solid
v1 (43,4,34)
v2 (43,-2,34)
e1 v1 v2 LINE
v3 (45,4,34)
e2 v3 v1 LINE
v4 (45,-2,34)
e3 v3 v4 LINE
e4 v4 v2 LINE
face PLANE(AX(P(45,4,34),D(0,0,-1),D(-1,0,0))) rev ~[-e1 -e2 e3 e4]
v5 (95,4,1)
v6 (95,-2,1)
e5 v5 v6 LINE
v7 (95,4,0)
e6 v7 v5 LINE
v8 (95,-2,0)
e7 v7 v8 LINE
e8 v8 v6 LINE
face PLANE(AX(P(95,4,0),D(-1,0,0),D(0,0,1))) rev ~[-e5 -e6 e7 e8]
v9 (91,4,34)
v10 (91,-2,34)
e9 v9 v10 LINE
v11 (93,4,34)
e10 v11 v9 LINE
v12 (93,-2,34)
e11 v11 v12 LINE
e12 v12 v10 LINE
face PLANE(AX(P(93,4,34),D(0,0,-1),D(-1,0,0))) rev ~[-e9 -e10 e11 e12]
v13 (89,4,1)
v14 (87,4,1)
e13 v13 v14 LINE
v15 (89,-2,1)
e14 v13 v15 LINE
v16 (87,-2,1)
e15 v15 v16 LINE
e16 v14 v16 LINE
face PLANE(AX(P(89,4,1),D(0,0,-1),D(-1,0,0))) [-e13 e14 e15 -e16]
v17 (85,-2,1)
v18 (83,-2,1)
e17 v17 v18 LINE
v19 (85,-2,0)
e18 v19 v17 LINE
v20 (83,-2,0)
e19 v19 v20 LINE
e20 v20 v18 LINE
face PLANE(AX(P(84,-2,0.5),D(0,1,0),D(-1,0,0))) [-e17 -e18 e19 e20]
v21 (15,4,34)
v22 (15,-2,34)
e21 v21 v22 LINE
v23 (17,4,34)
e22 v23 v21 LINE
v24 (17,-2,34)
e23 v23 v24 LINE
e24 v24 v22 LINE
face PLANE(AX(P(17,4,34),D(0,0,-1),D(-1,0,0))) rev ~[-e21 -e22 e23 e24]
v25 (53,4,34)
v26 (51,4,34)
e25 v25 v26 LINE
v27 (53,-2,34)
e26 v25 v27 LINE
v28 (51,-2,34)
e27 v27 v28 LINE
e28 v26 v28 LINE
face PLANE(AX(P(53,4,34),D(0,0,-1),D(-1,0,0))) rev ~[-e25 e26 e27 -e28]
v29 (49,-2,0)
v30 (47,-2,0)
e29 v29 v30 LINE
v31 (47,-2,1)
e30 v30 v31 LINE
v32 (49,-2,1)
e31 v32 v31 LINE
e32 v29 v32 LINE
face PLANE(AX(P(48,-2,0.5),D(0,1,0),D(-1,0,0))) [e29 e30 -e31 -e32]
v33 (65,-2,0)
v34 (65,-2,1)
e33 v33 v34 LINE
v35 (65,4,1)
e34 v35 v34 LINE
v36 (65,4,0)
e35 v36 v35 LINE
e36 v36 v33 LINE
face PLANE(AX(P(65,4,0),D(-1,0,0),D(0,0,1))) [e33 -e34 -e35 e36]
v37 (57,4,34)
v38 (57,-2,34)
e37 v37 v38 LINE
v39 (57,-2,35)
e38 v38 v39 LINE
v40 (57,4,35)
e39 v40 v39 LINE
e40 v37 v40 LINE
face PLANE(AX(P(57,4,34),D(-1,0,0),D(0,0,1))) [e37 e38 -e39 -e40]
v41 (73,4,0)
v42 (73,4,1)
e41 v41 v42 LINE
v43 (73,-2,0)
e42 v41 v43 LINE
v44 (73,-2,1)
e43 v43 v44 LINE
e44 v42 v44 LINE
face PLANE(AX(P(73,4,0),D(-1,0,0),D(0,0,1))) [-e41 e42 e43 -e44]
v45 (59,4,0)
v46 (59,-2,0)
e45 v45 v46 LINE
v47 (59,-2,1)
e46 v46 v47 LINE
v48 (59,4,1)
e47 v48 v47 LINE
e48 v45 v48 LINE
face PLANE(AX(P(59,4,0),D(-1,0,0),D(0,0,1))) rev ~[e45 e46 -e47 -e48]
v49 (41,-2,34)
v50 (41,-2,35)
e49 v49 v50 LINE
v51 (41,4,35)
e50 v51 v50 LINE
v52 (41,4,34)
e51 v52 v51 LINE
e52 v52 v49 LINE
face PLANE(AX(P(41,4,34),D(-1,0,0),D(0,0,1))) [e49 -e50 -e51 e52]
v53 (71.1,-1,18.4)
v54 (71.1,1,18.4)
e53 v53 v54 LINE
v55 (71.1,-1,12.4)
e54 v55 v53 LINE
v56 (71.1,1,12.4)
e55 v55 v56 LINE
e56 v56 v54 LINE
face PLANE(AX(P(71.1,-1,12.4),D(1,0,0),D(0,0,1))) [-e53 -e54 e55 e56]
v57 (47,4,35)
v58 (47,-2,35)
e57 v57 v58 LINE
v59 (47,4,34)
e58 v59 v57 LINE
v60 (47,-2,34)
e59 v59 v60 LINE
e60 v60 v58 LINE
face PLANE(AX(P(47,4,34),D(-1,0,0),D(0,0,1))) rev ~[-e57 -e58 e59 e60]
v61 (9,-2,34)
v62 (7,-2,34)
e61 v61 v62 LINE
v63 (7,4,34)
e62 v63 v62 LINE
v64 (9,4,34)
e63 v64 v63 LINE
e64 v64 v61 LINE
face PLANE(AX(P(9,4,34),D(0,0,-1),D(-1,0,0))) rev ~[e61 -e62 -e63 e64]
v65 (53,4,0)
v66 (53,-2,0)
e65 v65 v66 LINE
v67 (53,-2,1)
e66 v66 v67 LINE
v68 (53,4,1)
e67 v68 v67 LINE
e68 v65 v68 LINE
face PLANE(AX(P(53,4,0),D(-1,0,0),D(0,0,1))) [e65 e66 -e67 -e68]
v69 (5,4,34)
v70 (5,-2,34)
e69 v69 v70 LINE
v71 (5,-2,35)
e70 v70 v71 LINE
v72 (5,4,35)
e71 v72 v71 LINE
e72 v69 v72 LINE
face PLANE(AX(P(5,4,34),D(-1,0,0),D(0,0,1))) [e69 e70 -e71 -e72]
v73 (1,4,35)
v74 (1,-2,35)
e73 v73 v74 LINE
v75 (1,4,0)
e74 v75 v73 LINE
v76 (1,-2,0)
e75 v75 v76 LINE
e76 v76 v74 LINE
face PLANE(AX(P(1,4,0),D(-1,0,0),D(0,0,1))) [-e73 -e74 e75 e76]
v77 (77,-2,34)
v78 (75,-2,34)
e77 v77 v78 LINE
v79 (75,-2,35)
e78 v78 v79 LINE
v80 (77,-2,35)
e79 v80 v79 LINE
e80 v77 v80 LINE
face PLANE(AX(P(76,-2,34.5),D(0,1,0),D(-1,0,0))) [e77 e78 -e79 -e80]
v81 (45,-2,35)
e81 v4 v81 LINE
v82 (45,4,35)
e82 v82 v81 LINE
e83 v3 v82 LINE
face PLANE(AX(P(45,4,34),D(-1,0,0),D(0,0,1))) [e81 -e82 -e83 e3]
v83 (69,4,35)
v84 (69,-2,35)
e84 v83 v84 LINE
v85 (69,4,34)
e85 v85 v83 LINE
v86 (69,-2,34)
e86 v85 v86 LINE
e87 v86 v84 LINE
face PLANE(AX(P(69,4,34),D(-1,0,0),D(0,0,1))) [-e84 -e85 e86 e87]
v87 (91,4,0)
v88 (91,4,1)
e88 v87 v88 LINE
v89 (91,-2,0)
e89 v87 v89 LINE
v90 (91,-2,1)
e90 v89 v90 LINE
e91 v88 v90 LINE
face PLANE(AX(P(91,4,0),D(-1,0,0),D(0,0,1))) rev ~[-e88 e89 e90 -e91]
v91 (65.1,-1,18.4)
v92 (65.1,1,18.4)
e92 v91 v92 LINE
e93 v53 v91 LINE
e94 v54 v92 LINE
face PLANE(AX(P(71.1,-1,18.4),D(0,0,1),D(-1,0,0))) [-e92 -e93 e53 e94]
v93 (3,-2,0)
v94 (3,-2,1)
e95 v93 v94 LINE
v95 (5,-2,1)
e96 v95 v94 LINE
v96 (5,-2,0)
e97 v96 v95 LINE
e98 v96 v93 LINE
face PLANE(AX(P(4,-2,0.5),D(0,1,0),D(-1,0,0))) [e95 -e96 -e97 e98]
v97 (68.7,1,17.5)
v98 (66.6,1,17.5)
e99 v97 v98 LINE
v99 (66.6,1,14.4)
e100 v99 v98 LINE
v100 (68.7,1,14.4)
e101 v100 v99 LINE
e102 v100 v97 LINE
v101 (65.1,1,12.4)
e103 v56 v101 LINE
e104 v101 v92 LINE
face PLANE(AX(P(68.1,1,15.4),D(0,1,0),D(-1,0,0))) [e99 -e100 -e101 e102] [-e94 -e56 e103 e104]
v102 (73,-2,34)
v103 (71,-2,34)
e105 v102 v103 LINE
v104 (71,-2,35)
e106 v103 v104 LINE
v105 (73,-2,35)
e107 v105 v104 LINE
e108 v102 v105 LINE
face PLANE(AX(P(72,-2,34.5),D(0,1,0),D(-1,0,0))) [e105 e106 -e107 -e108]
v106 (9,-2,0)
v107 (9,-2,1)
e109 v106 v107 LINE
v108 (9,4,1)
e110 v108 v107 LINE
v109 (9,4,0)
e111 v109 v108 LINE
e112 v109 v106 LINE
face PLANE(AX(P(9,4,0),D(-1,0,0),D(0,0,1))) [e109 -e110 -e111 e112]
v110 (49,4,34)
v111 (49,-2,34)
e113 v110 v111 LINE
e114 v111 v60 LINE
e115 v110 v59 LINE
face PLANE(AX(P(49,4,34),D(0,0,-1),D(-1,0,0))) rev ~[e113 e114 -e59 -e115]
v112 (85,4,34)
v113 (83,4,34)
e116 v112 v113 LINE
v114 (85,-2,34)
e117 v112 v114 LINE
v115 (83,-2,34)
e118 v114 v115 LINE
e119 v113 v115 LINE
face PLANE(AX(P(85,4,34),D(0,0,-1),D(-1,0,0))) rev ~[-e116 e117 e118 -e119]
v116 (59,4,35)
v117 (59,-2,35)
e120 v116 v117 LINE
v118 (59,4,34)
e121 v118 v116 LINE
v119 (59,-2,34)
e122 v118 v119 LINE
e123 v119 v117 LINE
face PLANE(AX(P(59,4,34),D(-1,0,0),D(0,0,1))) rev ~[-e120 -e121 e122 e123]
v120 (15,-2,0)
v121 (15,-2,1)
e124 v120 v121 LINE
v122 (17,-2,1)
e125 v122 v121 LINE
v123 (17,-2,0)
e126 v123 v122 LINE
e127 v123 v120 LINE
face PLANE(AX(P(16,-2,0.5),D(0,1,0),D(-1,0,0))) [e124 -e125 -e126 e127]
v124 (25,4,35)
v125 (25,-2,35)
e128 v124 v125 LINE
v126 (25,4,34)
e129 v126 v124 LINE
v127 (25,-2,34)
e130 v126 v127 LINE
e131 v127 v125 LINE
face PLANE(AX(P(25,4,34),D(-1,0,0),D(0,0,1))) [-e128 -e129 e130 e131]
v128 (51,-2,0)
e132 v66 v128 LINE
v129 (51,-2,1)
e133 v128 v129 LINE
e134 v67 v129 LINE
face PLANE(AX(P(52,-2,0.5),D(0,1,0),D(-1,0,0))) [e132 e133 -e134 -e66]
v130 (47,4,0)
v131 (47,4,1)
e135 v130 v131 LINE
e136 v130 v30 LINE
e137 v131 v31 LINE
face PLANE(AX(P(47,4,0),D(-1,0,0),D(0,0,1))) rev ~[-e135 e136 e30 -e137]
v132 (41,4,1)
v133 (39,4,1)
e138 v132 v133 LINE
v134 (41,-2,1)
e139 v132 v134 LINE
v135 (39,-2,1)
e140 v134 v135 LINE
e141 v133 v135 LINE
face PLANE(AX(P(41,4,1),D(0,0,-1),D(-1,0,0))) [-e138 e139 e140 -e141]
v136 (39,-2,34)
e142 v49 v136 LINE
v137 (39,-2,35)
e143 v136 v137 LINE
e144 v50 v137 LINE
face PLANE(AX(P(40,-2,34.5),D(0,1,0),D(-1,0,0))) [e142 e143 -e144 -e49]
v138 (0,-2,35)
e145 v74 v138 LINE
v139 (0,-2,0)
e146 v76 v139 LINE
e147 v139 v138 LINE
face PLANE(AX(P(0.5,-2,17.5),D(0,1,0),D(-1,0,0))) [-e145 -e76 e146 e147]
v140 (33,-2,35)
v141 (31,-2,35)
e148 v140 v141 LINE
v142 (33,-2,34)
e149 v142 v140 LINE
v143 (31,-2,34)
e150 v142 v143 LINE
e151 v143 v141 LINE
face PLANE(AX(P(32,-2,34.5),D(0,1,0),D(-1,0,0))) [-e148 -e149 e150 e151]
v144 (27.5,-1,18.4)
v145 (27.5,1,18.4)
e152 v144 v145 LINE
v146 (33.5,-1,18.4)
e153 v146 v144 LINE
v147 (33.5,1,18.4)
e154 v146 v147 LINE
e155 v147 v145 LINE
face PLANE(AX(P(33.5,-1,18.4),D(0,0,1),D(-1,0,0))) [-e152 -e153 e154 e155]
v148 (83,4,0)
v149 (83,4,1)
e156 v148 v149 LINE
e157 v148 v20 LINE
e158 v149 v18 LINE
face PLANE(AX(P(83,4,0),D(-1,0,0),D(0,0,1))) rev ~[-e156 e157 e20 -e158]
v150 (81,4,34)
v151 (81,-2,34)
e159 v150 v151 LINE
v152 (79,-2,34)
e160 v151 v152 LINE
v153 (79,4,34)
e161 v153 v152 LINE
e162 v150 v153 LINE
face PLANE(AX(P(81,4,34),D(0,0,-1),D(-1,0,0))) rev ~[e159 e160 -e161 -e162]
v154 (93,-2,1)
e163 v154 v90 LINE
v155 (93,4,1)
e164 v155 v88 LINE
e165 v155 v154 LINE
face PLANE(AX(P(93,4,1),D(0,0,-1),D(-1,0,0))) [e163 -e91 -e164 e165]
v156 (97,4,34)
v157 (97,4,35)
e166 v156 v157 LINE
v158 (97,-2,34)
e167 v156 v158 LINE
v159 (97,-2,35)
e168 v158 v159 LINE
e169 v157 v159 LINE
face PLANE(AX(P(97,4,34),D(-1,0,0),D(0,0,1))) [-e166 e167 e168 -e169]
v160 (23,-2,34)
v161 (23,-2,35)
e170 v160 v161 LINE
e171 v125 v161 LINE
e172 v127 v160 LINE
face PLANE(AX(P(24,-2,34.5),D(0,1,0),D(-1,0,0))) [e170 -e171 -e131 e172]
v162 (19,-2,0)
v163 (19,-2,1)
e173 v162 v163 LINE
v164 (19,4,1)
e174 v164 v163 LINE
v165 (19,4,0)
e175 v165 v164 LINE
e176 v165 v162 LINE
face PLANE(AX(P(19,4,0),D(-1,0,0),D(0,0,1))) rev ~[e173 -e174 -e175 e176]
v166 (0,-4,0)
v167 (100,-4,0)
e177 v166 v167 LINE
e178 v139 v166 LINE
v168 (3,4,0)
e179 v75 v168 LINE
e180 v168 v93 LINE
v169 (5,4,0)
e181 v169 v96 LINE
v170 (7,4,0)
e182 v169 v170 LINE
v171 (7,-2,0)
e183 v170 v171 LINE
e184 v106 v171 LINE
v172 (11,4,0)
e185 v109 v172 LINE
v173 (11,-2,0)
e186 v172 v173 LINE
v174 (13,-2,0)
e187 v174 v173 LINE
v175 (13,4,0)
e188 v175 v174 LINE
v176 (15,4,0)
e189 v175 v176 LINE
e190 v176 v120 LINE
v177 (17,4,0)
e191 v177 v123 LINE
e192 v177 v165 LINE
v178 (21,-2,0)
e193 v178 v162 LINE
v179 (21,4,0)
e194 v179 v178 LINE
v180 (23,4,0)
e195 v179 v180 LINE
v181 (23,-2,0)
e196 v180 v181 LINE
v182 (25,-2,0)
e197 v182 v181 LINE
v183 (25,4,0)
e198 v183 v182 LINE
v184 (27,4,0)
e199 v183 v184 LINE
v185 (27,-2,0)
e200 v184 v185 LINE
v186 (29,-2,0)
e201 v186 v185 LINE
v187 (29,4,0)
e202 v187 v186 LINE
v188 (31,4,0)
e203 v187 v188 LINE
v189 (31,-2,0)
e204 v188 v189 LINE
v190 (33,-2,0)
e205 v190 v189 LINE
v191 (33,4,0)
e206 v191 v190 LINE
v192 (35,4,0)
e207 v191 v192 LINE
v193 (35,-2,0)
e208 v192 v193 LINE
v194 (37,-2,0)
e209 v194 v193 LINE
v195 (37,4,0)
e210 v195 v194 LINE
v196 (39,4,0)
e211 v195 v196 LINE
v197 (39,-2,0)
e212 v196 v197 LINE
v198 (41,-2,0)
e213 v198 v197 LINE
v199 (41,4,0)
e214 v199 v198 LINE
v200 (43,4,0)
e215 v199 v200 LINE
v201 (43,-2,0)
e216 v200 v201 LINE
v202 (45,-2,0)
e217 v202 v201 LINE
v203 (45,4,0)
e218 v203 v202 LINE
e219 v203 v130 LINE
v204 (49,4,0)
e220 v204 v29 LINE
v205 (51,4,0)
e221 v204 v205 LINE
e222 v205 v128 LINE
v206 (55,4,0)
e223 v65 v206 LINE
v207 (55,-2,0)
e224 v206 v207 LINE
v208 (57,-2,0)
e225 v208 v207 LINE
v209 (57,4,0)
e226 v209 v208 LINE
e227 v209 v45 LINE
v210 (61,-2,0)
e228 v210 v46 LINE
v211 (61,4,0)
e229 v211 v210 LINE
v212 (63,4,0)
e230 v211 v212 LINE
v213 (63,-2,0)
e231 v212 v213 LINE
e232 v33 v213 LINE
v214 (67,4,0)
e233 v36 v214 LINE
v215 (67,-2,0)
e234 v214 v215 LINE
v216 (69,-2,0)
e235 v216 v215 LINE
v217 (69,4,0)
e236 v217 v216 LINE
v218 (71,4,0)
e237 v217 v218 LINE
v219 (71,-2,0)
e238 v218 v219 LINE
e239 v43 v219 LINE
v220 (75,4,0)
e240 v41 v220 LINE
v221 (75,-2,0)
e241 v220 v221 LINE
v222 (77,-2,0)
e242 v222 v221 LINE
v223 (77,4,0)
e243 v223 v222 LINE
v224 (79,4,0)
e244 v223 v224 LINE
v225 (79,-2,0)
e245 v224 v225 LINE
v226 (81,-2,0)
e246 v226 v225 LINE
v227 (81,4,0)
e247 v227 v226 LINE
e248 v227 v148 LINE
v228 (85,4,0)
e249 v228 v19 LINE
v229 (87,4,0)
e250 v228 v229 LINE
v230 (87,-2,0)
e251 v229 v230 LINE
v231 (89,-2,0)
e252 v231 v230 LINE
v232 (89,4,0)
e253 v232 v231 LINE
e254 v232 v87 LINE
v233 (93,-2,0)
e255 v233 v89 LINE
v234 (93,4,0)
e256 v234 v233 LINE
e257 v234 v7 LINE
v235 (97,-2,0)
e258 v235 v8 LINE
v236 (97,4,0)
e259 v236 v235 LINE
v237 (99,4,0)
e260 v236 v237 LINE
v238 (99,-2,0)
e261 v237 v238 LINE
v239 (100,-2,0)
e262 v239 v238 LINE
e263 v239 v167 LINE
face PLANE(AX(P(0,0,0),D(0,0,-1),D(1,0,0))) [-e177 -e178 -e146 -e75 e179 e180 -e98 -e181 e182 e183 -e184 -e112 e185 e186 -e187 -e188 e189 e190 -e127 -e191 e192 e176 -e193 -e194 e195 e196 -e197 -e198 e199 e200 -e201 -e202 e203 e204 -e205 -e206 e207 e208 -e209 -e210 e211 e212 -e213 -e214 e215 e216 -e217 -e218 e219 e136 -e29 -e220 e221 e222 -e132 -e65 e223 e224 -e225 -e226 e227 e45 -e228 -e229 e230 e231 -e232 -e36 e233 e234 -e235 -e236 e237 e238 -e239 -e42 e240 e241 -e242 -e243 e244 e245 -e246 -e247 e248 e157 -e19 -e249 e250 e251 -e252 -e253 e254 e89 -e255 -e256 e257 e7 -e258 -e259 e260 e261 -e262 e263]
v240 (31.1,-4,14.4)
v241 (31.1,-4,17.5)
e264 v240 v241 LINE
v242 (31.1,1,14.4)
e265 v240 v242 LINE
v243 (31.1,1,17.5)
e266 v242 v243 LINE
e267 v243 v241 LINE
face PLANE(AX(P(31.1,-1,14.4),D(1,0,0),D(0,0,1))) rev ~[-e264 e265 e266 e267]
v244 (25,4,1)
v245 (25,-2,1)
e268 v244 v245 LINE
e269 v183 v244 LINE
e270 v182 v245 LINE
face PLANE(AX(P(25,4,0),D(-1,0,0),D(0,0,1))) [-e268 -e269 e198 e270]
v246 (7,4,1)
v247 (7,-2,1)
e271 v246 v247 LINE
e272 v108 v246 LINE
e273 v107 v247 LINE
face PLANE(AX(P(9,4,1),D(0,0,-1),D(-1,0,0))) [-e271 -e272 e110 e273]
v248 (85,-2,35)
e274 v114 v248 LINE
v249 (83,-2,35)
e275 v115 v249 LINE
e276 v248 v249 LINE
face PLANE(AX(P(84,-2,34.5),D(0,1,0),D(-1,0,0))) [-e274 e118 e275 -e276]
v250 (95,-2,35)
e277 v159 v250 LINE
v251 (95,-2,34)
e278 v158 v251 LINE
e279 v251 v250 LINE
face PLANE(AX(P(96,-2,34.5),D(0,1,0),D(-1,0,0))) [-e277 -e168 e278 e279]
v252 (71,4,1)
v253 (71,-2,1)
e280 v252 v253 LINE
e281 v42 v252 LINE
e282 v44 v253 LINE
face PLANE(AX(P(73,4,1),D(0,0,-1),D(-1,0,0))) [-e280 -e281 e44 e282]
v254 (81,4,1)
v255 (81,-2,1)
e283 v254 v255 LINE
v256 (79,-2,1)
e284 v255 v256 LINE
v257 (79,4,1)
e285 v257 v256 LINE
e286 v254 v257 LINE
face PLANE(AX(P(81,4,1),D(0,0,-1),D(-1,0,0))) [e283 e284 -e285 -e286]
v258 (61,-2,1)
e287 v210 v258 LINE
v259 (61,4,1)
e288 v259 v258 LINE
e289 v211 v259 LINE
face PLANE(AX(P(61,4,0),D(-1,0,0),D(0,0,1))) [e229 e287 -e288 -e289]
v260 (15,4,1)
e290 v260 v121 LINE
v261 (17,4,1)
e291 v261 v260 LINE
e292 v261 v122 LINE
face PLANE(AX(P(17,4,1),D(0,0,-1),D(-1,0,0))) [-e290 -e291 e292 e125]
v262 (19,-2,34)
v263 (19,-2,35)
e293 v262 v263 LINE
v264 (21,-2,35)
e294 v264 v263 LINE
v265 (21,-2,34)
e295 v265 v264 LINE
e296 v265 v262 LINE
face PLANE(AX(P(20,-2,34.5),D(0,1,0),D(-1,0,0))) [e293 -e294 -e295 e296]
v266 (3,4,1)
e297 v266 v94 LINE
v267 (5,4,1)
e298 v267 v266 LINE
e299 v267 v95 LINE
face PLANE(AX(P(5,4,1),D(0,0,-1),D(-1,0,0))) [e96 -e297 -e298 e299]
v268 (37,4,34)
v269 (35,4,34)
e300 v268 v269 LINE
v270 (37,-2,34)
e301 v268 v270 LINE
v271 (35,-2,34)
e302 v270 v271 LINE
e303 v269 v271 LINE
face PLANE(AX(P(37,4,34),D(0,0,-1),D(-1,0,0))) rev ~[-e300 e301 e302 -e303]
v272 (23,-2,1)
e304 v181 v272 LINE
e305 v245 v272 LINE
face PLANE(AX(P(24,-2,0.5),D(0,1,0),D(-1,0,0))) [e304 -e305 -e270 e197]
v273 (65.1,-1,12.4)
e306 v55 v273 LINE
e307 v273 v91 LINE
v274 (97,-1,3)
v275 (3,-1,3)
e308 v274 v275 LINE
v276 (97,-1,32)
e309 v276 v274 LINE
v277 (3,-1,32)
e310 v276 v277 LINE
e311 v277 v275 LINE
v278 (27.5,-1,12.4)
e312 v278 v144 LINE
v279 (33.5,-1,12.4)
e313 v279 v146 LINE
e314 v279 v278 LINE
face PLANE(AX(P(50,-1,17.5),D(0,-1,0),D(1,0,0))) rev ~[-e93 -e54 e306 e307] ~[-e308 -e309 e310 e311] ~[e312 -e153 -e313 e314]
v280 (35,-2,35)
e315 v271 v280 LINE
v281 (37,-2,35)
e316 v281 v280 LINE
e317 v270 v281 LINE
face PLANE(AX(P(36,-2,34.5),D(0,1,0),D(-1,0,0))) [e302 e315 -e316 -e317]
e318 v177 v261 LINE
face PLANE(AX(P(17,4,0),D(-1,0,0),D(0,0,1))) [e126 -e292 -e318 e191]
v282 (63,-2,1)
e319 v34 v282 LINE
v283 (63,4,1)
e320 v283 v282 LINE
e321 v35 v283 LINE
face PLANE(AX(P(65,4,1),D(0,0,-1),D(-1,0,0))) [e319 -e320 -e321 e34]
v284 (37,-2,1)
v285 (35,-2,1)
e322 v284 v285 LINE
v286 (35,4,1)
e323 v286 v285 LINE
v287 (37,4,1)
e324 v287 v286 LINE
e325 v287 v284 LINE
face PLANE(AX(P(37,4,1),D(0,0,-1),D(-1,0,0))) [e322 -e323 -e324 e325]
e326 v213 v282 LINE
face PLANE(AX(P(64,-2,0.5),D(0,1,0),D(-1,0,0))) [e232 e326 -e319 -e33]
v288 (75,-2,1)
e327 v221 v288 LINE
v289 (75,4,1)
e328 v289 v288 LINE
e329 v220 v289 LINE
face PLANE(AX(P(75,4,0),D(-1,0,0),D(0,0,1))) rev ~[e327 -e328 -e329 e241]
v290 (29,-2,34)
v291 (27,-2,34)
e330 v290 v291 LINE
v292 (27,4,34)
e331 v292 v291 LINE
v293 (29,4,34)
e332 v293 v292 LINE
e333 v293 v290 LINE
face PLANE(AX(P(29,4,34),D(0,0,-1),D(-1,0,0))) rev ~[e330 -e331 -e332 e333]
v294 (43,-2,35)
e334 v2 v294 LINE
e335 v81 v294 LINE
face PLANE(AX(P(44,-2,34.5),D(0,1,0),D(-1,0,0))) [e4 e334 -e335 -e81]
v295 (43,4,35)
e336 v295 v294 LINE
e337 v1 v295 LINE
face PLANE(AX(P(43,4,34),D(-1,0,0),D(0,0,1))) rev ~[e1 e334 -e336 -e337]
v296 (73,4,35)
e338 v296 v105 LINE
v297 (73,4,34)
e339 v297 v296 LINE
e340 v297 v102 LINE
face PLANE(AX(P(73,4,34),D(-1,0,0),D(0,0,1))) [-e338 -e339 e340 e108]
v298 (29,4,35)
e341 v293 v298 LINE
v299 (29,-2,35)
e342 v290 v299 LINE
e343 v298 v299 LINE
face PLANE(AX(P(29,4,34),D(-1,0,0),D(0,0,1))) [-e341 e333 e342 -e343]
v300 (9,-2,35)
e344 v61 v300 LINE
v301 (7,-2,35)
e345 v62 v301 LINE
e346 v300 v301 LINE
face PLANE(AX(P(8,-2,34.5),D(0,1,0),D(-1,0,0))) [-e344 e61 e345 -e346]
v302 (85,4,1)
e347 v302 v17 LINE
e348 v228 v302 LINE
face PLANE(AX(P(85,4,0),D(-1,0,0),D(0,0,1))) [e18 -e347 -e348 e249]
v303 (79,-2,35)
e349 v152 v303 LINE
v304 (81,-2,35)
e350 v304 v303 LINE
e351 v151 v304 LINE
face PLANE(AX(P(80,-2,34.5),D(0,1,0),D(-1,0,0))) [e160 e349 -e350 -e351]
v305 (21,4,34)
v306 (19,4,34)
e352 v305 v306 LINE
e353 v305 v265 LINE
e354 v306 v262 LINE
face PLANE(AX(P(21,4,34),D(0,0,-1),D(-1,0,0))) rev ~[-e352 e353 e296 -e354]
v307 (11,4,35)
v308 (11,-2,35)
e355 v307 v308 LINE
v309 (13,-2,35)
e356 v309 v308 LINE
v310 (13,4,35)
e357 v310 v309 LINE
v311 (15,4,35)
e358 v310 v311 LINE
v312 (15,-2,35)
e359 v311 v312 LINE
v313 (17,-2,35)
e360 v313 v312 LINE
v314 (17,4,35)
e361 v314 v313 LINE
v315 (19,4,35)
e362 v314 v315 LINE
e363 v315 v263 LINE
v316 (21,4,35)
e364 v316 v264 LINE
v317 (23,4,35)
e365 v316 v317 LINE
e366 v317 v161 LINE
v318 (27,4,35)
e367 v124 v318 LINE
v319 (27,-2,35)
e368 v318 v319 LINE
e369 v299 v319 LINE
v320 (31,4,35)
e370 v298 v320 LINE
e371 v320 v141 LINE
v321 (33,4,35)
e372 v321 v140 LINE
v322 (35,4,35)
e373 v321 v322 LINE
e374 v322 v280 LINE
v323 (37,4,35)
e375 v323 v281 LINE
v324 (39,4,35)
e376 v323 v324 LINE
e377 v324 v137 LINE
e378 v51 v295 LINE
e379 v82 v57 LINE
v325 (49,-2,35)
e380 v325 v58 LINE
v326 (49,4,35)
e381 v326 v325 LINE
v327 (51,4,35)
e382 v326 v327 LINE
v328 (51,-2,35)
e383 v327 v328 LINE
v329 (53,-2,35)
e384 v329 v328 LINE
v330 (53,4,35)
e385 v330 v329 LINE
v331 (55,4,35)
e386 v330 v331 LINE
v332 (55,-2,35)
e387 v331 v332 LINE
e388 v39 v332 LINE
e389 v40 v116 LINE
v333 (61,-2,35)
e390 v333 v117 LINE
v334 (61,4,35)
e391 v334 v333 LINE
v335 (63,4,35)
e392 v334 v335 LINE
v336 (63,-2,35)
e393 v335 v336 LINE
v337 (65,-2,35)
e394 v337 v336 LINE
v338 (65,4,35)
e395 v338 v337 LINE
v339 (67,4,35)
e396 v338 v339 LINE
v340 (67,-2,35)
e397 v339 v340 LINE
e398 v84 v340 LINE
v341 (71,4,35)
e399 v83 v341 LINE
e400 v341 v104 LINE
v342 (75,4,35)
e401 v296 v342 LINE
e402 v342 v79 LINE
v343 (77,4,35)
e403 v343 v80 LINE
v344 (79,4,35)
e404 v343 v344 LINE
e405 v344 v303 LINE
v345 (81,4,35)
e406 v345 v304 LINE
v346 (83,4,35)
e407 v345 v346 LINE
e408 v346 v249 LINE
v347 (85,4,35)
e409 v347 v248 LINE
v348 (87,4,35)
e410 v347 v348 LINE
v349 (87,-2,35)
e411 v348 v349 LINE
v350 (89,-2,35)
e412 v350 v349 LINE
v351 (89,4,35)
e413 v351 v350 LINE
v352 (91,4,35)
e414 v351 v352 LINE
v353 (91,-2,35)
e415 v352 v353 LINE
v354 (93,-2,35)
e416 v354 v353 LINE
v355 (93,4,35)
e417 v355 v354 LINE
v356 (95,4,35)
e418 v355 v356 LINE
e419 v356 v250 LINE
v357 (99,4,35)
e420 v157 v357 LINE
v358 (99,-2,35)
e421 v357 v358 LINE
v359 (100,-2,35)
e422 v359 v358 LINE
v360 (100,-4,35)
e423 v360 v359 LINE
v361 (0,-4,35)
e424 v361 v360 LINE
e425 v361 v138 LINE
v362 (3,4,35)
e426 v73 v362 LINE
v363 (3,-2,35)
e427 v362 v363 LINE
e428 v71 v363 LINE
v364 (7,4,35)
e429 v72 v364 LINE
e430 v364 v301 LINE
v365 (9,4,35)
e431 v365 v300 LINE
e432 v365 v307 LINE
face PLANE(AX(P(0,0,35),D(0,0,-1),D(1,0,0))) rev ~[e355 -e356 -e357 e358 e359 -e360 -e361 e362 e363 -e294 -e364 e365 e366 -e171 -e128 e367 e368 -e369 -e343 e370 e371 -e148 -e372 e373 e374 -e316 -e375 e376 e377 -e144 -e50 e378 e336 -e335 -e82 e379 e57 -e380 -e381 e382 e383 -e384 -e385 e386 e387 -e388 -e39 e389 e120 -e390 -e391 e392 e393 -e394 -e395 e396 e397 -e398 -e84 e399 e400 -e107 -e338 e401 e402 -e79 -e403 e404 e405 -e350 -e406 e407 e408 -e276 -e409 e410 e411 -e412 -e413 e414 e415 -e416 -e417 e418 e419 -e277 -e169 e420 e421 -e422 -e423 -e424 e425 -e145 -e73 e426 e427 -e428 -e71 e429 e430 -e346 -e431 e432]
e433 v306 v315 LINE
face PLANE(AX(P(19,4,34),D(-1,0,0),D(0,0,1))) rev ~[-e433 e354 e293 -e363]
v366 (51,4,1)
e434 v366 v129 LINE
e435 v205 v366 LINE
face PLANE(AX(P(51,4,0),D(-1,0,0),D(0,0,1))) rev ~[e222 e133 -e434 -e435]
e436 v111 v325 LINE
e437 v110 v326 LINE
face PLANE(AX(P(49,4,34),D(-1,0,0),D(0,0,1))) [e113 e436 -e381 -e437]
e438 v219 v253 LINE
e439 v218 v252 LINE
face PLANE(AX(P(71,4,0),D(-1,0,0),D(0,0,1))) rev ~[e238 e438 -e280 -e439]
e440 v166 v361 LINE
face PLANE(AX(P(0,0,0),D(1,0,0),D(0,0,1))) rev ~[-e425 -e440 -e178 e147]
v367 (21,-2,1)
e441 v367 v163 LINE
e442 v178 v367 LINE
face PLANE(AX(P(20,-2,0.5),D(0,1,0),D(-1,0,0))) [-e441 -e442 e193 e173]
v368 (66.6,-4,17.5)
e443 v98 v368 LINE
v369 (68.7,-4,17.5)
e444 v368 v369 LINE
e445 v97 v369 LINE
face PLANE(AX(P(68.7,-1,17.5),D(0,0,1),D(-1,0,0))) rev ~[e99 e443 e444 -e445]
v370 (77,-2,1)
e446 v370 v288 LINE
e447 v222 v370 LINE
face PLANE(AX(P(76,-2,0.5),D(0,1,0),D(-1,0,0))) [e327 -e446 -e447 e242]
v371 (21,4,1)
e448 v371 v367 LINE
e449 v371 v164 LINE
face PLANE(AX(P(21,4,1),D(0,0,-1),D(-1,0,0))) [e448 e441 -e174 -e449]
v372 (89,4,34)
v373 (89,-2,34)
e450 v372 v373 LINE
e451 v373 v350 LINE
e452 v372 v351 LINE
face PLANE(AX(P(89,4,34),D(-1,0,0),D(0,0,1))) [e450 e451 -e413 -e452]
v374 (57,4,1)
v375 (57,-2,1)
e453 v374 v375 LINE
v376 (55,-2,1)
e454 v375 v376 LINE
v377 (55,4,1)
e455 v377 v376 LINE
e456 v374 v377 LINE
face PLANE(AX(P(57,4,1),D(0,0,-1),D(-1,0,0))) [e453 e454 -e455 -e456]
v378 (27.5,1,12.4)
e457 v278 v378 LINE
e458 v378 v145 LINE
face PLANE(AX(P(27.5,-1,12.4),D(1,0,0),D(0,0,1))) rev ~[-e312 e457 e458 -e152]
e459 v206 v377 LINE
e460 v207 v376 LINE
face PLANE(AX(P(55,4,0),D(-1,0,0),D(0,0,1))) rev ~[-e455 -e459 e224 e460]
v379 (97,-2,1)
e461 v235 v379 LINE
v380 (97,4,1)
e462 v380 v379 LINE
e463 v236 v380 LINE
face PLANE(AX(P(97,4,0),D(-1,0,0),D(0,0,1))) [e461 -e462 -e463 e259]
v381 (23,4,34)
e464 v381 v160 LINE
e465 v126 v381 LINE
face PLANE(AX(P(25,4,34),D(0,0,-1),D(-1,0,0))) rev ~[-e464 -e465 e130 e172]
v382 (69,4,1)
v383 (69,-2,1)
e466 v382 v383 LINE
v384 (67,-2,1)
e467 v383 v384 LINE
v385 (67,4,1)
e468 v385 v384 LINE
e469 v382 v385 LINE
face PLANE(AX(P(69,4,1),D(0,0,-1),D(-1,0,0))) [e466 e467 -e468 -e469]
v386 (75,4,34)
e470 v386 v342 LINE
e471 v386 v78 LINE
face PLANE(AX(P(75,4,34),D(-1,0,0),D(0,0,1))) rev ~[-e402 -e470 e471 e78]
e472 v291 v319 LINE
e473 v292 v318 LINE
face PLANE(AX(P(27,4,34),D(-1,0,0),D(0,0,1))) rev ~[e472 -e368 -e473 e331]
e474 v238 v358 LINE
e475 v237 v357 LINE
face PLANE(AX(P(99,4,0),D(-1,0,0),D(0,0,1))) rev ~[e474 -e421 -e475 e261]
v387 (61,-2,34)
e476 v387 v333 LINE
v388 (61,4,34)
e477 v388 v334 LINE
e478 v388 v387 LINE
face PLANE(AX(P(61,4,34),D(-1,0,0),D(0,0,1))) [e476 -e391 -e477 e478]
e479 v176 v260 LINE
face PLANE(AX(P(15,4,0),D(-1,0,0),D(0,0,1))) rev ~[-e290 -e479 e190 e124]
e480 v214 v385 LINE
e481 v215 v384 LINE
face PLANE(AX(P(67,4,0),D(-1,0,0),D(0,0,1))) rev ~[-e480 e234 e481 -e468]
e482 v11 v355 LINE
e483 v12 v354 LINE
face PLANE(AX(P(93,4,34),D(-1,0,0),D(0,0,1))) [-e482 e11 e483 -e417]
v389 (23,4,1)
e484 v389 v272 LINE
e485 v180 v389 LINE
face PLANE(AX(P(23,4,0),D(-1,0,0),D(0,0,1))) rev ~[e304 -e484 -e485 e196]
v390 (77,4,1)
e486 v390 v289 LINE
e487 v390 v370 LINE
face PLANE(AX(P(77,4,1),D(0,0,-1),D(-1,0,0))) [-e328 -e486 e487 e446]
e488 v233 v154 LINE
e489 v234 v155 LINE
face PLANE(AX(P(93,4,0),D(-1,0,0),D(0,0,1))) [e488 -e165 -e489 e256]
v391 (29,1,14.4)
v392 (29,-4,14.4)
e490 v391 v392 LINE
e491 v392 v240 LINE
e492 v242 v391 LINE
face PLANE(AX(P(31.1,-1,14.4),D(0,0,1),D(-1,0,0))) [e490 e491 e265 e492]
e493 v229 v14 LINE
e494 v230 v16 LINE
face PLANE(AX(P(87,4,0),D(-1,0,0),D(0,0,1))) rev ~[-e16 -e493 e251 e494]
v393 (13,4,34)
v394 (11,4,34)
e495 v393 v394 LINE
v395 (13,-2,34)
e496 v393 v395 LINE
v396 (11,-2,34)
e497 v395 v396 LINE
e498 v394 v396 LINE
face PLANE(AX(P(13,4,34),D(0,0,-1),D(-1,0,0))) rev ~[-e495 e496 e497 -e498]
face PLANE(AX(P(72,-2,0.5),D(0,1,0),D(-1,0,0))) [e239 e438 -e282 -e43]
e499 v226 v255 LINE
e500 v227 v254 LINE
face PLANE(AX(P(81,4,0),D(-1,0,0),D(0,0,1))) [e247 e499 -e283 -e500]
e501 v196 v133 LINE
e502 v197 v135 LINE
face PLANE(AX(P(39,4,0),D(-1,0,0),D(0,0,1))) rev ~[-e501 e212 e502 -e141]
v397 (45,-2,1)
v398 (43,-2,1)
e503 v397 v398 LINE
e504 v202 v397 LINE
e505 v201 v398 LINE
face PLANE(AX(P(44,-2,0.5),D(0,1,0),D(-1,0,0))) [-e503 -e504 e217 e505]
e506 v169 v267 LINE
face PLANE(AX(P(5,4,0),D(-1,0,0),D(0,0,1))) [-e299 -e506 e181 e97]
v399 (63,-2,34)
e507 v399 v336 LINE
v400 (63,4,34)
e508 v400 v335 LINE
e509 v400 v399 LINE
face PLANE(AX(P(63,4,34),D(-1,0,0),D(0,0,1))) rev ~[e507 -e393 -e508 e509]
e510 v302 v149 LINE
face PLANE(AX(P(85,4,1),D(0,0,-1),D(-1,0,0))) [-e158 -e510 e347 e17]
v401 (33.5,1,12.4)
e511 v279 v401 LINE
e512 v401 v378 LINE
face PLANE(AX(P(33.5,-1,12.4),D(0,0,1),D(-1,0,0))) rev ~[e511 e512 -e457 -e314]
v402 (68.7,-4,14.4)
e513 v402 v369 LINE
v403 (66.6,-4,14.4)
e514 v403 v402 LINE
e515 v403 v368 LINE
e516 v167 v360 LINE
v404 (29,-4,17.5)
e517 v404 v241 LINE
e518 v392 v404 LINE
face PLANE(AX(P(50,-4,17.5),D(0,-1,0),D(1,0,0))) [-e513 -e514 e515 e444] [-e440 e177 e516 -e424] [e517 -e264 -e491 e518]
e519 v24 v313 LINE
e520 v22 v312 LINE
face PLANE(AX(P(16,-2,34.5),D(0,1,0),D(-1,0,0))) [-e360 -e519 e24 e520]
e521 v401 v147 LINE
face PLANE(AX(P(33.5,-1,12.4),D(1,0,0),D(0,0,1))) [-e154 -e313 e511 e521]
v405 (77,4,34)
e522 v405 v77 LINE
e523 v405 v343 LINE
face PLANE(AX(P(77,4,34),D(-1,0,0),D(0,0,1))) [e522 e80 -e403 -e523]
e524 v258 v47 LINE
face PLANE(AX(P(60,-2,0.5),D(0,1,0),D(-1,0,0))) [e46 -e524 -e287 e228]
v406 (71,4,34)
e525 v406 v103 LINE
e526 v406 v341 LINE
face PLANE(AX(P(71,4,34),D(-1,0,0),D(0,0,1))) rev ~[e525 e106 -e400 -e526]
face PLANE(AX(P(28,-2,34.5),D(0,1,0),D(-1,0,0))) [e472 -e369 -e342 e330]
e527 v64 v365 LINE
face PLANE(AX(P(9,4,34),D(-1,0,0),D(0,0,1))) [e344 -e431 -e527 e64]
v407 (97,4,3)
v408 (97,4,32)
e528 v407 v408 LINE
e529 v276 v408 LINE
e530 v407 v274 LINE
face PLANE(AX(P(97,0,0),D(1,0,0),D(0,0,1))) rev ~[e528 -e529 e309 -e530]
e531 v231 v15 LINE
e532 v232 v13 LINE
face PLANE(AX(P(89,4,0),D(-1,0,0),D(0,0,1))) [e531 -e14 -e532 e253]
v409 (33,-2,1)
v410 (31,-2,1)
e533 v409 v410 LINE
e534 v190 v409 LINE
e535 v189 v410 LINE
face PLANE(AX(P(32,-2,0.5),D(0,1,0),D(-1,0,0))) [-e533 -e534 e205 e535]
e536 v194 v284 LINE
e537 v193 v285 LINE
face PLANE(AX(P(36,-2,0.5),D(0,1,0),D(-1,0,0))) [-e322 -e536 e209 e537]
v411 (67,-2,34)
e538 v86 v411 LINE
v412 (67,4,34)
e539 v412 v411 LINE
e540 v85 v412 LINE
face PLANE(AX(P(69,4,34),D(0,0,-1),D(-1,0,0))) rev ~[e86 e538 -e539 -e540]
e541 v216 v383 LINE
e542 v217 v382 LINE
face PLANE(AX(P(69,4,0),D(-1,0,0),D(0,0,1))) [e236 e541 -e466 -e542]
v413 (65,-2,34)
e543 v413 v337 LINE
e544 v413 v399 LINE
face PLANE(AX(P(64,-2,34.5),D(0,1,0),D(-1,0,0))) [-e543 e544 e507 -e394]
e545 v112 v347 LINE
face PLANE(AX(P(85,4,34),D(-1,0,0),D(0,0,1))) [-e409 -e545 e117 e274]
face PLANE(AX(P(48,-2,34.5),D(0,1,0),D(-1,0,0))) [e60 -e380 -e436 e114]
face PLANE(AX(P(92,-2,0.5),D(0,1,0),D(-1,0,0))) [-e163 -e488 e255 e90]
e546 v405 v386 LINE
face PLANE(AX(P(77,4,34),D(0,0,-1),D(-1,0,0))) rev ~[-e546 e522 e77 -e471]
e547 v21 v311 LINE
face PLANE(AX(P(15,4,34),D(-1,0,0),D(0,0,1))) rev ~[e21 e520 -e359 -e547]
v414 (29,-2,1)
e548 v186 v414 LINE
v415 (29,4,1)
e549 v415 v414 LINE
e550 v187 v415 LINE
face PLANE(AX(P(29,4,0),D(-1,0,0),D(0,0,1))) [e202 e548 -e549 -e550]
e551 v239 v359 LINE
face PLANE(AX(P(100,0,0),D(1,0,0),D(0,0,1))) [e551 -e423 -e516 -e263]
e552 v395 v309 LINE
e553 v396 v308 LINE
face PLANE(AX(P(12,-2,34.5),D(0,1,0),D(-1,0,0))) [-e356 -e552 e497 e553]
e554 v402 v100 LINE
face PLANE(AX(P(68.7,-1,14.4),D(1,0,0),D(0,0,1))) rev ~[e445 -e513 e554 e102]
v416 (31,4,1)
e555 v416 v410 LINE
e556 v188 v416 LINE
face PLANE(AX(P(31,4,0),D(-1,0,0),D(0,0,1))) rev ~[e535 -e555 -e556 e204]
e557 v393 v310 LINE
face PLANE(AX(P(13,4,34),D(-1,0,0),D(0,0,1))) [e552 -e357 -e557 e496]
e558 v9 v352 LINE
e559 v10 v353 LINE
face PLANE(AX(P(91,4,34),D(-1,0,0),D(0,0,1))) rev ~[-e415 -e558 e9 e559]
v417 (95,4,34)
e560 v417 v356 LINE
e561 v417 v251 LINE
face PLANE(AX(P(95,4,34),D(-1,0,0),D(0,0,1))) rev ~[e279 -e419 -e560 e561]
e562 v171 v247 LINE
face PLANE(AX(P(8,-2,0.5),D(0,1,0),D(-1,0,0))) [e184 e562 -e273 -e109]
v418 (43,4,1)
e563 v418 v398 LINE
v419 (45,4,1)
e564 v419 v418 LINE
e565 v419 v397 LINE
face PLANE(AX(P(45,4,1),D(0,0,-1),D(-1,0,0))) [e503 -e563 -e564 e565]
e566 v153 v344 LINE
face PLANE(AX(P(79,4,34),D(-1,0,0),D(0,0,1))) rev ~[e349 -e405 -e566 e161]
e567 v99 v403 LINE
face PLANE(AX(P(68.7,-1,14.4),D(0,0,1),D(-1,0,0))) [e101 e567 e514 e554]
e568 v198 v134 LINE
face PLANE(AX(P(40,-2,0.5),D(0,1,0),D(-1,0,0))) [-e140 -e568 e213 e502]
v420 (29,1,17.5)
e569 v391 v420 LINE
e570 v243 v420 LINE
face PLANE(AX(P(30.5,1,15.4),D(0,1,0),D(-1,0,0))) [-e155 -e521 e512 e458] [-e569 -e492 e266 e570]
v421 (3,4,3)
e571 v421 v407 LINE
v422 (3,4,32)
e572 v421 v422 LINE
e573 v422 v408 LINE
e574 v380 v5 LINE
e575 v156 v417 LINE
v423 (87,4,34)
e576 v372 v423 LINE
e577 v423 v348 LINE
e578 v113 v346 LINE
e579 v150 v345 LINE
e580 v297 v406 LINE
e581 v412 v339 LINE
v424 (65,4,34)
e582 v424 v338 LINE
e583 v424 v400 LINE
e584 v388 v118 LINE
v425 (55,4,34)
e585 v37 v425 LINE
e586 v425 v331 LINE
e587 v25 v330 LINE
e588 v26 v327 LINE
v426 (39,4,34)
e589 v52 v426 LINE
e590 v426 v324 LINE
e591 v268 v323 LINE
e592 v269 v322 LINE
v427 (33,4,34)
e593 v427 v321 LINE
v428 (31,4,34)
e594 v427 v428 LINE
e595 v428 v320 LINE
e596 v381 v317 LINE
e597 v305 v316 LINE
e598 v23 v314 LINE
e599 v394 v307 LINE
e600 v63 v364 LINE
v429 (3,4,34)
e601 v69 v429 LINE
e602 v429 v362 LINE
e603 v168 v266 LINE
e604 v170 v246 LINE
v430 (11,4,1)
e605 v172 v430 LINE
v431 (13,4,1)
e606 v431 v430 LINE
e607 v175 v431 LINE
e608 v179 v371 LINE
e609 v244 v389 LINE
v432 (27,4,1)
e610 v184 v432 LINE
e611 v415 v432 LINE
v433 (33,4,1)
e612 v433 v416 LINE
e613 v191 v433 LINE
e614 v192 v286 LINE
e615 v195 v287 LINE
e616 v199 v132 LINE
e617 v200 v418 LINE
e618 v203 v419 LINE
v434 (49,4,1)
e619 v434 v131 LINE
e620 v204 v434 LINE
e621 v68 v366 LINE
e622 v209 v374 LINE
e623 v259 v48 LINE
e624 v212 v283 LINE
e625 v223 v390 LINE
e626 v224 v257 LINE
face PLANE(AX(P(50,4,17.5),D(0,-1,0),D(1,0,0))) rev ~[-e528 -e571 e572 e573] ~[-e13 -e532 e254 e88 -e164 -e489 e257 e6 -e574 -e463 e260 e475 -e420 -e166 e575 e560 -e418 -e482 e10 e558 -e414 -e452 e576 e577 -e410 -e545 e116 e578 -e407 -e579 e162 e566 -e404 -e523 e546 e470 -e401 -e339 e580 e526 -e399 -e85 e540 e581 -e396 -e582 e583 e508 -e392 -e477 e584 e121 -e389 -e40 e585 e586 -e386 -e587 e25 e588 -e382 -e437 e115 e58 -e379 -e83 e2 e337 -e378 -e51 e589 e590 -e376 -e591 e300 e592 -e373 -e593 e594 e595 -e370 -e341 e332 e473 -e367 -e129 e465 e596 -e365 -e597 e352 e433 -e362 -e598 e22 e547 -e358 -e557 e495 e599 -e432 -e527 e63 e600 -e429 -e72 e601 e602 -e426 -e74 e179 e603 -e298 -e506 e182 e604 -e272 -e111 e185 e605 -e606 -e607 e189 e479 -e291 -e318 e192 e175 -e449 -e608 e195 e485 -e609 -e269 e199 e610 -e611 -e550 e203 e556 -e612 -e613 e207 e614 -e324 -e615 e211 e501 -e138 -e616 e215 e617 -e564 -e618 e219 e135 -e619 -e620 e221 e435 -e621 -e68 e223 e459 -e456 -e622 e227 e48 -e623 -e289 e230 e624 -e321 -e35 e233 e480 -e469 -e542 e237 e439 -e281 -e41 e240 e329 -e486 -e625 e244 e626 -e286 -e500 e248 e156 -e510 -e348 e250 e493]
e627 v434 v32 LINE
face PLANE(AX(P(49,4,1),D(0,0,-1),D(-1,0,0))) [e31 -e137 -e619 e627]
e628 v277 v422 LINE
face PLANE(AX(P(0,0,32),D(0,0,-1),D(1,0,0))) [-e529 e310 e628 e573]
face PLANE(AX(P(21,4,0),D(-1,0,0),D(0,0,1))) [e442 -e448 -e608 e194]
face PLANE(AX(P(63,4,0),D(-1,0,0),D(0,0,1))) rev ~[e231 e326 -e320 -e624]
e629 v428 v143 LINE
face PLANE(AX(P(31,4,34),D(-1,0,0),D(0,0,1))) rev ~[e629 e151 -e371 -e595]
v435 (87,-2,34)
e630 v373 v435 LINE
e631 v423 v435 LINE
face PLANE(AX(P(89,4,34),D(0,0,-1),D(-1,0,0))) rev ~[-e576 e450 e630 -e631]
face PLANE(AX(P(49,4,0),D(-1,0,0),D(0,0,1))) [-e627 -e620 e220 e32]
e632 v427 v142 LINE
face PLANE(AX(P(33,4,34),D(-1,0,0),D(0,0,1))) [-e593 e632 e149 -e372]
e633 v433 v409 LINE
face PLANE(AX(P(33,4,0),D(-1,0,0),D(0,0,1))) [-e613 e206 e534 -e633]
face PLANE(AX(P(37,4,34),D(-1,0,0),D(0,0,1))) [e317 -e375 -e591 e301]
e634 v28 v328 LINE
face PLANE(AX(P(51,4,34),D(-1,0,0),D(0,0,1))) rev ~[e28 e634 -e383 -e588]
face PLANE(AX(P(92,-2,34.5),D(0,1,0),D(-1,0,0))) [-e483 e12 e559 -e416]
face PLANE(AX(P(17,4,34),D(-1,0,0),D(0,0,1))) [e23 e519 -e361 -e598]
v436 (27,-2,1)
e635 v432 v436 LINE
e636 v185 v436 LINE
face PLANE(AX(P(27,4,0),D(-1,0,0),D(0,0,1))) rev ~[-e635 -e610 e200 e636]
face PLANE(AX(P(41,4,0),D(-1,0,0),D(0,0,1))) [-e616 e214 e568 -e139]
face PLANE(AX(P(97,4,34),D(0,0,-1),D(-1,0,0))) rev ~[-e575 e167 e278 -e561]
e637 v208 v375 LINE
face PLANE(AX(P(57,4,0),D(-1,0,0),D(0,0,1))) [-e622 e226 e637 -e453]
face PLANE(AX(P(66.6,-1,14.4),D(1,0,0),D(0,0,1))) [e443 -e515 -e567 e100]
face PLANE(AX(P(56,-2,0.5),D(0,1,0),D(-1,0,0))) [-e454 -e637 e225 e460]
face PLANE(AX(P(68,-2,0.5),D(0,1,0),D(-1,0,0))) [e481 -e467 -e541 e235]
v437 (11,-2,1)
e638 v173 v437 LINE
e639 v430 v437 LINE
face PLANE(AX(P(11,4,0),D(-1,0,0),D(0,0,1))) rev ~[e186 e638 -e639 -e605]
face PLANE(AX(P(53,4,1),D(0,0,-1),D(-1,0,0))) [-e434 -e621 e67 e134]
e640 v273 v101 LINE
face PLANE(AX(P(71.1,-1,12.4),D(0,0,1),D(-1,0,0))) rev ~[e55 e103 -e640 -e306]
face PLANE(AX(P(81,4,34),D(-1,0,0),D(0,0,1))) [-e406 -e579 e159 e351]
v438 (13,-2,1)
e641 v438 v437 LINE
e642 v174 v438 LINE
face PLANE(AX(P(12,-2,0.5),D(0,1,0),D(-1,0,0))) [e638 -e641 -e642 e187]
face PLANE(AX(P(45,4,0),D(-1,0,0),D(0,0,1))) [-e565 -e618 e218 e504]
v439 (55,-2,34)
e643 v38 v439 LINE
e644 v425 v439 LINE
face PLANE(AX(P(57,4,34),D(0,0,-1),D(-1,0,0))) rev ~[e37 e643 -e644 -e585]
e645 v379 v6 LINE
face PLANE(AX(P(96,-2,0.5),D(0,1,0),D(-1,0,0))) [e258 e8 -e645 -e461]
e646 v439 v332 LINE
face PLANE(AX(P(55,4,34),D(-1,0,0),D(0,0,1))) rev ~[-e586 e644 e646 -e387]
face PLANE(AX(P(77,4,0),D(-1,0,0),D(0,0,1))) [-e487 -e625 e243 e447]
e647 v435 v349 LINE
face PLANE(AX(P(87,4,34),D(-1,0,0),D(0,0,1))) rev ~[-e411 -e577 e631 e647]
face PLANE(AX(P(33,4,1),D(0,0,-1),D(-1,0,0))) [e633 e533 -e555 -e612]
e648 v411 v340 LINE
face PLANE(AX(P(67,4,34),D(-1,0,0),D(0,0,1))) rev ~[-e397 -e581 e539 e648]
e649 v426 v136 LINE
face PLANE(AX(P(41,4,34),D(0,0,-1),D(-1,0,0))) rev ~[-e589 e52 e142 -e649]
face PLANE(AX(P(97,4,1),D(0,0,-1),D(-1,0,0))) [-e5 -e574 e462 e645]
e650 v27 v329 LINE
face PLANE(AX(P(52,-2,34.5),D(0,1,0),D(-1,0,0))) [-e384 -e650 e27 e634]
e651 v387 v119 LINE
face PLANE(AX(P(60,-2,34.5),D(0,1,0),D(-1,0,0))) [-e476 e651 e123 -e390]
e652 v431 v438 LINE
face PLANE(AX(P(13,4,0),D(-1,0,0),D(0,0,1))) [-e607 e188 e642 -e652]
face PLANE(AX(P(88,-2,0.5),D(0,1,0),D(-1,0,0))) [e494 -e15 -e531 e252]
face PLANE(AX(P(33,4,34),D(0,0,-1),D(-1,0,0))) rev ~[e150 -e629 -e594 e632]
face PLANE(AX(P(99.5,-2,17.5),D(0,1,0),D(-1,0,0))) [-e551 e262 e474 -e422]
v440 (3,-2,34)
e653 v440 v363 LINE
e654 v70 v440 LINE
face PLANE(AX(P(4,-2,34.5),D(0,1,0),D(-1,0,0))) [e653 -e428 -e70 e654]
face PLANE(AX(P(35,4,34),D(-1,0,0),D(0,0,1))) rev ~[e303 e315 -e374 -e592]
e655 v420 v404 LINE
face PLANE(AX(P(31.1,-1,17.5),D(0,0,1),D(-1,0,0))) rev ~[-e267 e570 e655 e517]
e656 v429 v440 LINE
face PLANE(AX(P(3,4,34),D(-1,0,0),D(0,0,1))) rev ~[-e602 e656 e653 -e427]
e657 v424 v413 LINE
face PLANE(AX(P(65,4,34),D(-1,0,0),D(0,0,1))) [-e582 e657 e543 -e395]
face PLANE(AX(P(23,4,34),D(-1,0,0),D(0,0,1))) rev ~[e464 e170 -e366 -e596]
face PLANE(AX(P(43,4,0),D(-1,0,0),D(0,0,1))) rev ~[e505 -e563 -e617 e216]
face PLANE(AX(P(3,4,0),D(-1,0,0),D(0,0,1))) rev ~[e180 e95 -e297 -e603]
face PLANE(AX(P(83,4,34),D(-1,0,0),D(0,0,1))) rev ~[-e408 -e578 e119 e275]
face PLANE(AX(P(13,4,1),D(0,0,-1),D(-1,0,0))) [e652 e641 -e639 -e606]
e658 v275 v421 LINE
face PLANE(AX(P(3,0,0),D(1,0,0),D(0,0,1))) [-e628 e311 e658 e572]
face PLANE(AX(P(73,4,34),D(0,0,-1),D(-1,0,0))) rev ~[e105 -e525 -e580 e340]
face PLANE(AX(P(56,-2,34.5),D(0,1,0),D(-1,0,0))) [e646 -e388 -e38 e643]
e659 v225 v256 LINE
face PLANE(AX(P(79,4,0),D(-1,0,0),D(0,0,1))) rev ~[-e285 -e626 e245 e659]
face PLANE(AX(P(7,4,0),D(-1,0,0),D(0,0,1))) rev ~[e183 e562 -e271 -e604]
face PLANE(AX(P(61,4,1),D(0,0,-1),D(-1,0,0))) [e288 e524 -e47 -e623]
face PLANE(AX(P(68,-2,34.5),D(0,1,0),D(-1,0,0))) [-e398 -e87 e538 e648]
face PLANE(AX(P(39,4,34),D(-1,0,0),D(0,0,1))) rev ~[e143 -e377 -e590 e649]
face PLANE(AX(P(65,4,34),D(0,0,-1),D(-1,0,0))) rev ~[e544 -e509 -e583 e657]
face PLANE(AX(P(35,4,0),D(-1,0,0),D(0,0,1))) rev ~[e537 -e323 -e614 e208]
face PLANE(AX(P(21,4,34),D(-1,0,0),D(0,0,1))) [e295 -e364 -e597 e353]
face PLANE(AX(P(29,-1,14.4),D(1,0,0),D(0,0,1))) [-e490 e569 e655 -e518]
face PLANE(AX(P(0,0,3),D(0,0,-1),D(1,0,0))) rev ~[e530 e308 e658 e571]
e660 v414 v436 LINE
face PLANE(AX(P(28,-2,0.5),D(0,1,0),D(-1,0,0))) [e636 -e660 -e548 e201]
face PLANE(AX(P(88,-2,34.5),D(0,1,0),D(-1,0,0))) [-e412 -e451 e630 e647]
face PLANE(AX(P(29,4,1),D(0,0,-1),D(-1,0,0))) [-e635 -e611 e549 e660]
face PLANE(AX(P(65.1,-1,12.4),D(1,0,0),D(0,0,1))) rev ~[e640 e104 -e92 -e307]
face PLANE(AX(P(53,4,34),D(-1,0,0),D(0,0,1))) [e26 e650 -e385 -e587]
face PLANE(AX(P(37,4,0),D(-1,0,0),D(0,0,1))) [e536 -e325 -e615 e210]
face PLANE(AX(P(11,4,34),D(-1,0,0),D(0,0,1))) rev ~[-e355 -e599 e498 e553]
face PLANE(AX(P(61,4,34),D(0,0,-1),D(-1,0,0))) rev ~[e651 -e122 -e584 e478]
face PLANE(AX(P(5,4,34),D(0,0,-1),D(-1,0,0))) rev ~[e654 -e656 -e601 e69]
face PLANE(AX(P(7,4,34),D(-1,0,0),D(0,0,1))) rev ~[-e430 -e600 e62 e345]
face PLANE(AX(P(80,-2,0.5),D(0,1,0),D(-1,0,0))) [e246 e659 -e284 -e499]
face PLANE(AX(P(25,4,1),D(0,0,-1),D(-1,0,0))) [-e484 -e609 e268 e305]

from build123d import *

# Parameters (mm, degrees)
F0_W      = 100
F0_H      = 35
F1_DEPTH  = 4
F2_T      = -3
F3_W      = 1
F3_H      = 35
F4_DEPTH  = 6
F5_W      = 2
F5_H      = 1
F6_DEPTH  = 6
F7_W      = 2.1
F7_H      = 3.1
F8_DEPTH  = 3
F9_W      = 6
F9_H      = 6
F9_W_2    = 2.1
F9_H_2    = 3.1
F10_DEPTH = 2


with BuildPart() as f1:
    # F0 (on Front) → F1 (new body, symmetric)
    with BuildSketch(Plane.XZ):
        with Locations((50, 17.5)):
            Rectangle(F0_W, F0_H)
    extrude(amount=F1_DEPTH, both=True)

    # F2
    f2_openings = [f1.faces().sort_by_distance(p)[0] for p in [
        (50, 4, 17.5),
    ]]
    offset(amount=F2_T, openings=f2_openings)

    # F3 (on face) → F4 (cut)
    with BuildSketch(Plane(origin=(0, 4, 0), x_dir=(-1, 0, 0), z_dir=(0, 1, 0))):
        with Locations((-99.5, 17.5)):
            Rectangle(F3_W, F3_H)
        with Locations((-0.5, 17.5)):
            Rectangle(F3_W, F3_H)
    extrude(amount=-F4_DEPTH, mode=Mode.SUBTRACT)

    # F5 (on face) → F6 (cut)
    with BuildSketch(Plane(origin=(0, 4, 0), x_dir=(-1, 0, 0), z_dir=(0, 1, 0))):
        with Locations((-96, 34.5)):
            Rectangle(F5_W, F5_H)
        with Locations((-96, 0.5)):
            Rectangle(F5_W, F5_H)
        with Locations((-92, 34.5)):
            Rectangle(F5_W, F5_H)
        with Locations((-92, 0.5)):
            Rectangle(F5_W, F5_H)
        with Locations((-88, 34.5)):
            Rectangle(F5_W, F5_H)
        with Locations((-88, 0.5)):
            Rectangle(F5_W, F5_H)
        with Locations((-84, 34.5)):
            Rectangle(F5_W, F5_H)
        with Locations((-84, 0.5)):
            Rectangle(F5_W, F5_H)
        with Locations((-80, 34.5)):
            Rectangle(F5_W, F5_H)
        with Locations((-80, 0.5)):
            Rectangle(F5_W, F5_H)
        with Locations((-76, 34.5)):
            Rectangle(F5_W, F5_H)
        with Locations((-76, 0.5)):
            Rectangle(F5_W, F5_H)
        with Locations((-72, 34.5)):
            Rectangle(F5_W, F5_H)
        with Locations((-72, 0.5)):
            Rectangle(F5_W, F5_H)
        with Locations((-68, 34.5)):
            Rectangle(F5_W, F5_H)
        with Locations((-68, 0.5)):
            Rectangle(F5_W, F5_H)
        with Locations((-64, 34.5)):
            Rectangle(F5_W, F5_H)
        with Locations((-64, 0.5)):
            Rectangle(F5_W, F5_H)
        with Locations((-60, 34.5)):
            Rectangle(F5_W, F5_H)
        with Locations((-60, 0.5)):
            Rectangle(F5_W, F5_H)
        with Locations((-56, 34.5)):
            Rectangle(F5_W, F5_H)
        with Locations((-56, 0.5)):
            Rectangle(F5_W, F5_H)
        with Locations((-52, 34.5)):
            Rectangle(F5_W, F5_H)
        with Locations((-52, 0.5)):
            Rectangle(F5_W, F5_H)
        with Locations((-48, 34.5)):
            Rectangle(F5_W, F5_H)
        with Locations((-48, 0.5)):
            Rectangle(F5_W, F5_H)
        with Locations((-44, 34.5)):
            Rectangle(F5_W, F5_H)
        with Locations((-44, 0.5)):
            Rectangle(F5_W, F5_H)
        with Locations((-40, 34.5)):
            Rectangle(F5_W, F5_H)
        with Locations((-40, 0.5)):
            Rectangle(F5_W, F5_H)
        with Locations((-36, 34.5)):
            Rectangle(F5_W, F5_H)
        with Locations((-36, 0.5)):
            Rectangle(F5_W, F5_H)
        with Locations((-32, 34.5)):
            Rectangle(F5_W, F5_H)
        with Locations((-32, 0.5)):
            Rectangle(F5_W, F5_H)
        with Locations((-28, 34.5)):
            Rectangle(F5_W, F5_H)
        with Locations((-28, 0.5)):
            Rectangle(F5_W, F5_H)
        with Locations((-24, 34.5)):
            Rectangle(F5_W, F5_H)
        with Locations((-24, 0.5)):
            Rectangle(F5_W, F5_H)
        with Locations((-20, 34.5)):
            Rectangle(F5_W, F5_H)
        with Locations((-20, 0.5)):
            Rectangle(F5_W, F5_H)
        with Locations((-16, 34.5)):
            Rectangle(F5_W, F5_H)
        with Locations((-16, 0.5)):
            Rectangle(F5_W, F5_H)
        with Locations((-12, 34.5)):
            Rectangle(F5_W, F5_H)
        with Locations((-12, 0.5)):
            Rectangle(F5_W, F5_H)
        with Locations((-8, 34.5)):
            Rectangle(F5_W, F5_H)
        with Locations((-8, 0.5)):
            Rectangle(F5_W, F5_H)
        with Locations((-4, 34.5)):
            Rectangle(F5_W, F5_H)
        with Locations((-4, 0.5)):
            Rectangle(F5_W, F5_H)
    extrude(amount=-F6_DEPTH, mode=Mode.SUBTRACT)

    # F7 (on face) → F8 (cut)
    with BuildSketch(Plane.XZ.offset(4)):
        with Locations((67.65, 15.95)):
            Rectangle(F7_W, F7_H)
        with Locations((30.05, 15.95)):
            Rectangle(F7_W, F7_H)
    extrude(amount=-F8_DEPTH, mode=Mode.SUBTRACT)

    # F9 (on face) → F10 (join)
    with BuildSketch(Plane(origin=(0, -1, 0), x_dir=(-1, 0, 0), z_dir=(0, 1, 0))):
        with Locations((-68.1, 15.4)):
            Rectangle(F9_W, F9_H)
        with Locations((-67.65, 15.95)):
            Rectangle(F9_W_2, F9_H_2, mode=Mode.SUBTRACT)
        with Locations((-30.5, 15.4)):
            Rectangle(F9_W, F9_H)
        with Locations((-30.05, 15.95)):
            Rectangle(F9_W_2, F9_H_2, mode=Mode.SUBTRACT)
    extrude(amount=F10_DEPTH)


solid = f1.part
